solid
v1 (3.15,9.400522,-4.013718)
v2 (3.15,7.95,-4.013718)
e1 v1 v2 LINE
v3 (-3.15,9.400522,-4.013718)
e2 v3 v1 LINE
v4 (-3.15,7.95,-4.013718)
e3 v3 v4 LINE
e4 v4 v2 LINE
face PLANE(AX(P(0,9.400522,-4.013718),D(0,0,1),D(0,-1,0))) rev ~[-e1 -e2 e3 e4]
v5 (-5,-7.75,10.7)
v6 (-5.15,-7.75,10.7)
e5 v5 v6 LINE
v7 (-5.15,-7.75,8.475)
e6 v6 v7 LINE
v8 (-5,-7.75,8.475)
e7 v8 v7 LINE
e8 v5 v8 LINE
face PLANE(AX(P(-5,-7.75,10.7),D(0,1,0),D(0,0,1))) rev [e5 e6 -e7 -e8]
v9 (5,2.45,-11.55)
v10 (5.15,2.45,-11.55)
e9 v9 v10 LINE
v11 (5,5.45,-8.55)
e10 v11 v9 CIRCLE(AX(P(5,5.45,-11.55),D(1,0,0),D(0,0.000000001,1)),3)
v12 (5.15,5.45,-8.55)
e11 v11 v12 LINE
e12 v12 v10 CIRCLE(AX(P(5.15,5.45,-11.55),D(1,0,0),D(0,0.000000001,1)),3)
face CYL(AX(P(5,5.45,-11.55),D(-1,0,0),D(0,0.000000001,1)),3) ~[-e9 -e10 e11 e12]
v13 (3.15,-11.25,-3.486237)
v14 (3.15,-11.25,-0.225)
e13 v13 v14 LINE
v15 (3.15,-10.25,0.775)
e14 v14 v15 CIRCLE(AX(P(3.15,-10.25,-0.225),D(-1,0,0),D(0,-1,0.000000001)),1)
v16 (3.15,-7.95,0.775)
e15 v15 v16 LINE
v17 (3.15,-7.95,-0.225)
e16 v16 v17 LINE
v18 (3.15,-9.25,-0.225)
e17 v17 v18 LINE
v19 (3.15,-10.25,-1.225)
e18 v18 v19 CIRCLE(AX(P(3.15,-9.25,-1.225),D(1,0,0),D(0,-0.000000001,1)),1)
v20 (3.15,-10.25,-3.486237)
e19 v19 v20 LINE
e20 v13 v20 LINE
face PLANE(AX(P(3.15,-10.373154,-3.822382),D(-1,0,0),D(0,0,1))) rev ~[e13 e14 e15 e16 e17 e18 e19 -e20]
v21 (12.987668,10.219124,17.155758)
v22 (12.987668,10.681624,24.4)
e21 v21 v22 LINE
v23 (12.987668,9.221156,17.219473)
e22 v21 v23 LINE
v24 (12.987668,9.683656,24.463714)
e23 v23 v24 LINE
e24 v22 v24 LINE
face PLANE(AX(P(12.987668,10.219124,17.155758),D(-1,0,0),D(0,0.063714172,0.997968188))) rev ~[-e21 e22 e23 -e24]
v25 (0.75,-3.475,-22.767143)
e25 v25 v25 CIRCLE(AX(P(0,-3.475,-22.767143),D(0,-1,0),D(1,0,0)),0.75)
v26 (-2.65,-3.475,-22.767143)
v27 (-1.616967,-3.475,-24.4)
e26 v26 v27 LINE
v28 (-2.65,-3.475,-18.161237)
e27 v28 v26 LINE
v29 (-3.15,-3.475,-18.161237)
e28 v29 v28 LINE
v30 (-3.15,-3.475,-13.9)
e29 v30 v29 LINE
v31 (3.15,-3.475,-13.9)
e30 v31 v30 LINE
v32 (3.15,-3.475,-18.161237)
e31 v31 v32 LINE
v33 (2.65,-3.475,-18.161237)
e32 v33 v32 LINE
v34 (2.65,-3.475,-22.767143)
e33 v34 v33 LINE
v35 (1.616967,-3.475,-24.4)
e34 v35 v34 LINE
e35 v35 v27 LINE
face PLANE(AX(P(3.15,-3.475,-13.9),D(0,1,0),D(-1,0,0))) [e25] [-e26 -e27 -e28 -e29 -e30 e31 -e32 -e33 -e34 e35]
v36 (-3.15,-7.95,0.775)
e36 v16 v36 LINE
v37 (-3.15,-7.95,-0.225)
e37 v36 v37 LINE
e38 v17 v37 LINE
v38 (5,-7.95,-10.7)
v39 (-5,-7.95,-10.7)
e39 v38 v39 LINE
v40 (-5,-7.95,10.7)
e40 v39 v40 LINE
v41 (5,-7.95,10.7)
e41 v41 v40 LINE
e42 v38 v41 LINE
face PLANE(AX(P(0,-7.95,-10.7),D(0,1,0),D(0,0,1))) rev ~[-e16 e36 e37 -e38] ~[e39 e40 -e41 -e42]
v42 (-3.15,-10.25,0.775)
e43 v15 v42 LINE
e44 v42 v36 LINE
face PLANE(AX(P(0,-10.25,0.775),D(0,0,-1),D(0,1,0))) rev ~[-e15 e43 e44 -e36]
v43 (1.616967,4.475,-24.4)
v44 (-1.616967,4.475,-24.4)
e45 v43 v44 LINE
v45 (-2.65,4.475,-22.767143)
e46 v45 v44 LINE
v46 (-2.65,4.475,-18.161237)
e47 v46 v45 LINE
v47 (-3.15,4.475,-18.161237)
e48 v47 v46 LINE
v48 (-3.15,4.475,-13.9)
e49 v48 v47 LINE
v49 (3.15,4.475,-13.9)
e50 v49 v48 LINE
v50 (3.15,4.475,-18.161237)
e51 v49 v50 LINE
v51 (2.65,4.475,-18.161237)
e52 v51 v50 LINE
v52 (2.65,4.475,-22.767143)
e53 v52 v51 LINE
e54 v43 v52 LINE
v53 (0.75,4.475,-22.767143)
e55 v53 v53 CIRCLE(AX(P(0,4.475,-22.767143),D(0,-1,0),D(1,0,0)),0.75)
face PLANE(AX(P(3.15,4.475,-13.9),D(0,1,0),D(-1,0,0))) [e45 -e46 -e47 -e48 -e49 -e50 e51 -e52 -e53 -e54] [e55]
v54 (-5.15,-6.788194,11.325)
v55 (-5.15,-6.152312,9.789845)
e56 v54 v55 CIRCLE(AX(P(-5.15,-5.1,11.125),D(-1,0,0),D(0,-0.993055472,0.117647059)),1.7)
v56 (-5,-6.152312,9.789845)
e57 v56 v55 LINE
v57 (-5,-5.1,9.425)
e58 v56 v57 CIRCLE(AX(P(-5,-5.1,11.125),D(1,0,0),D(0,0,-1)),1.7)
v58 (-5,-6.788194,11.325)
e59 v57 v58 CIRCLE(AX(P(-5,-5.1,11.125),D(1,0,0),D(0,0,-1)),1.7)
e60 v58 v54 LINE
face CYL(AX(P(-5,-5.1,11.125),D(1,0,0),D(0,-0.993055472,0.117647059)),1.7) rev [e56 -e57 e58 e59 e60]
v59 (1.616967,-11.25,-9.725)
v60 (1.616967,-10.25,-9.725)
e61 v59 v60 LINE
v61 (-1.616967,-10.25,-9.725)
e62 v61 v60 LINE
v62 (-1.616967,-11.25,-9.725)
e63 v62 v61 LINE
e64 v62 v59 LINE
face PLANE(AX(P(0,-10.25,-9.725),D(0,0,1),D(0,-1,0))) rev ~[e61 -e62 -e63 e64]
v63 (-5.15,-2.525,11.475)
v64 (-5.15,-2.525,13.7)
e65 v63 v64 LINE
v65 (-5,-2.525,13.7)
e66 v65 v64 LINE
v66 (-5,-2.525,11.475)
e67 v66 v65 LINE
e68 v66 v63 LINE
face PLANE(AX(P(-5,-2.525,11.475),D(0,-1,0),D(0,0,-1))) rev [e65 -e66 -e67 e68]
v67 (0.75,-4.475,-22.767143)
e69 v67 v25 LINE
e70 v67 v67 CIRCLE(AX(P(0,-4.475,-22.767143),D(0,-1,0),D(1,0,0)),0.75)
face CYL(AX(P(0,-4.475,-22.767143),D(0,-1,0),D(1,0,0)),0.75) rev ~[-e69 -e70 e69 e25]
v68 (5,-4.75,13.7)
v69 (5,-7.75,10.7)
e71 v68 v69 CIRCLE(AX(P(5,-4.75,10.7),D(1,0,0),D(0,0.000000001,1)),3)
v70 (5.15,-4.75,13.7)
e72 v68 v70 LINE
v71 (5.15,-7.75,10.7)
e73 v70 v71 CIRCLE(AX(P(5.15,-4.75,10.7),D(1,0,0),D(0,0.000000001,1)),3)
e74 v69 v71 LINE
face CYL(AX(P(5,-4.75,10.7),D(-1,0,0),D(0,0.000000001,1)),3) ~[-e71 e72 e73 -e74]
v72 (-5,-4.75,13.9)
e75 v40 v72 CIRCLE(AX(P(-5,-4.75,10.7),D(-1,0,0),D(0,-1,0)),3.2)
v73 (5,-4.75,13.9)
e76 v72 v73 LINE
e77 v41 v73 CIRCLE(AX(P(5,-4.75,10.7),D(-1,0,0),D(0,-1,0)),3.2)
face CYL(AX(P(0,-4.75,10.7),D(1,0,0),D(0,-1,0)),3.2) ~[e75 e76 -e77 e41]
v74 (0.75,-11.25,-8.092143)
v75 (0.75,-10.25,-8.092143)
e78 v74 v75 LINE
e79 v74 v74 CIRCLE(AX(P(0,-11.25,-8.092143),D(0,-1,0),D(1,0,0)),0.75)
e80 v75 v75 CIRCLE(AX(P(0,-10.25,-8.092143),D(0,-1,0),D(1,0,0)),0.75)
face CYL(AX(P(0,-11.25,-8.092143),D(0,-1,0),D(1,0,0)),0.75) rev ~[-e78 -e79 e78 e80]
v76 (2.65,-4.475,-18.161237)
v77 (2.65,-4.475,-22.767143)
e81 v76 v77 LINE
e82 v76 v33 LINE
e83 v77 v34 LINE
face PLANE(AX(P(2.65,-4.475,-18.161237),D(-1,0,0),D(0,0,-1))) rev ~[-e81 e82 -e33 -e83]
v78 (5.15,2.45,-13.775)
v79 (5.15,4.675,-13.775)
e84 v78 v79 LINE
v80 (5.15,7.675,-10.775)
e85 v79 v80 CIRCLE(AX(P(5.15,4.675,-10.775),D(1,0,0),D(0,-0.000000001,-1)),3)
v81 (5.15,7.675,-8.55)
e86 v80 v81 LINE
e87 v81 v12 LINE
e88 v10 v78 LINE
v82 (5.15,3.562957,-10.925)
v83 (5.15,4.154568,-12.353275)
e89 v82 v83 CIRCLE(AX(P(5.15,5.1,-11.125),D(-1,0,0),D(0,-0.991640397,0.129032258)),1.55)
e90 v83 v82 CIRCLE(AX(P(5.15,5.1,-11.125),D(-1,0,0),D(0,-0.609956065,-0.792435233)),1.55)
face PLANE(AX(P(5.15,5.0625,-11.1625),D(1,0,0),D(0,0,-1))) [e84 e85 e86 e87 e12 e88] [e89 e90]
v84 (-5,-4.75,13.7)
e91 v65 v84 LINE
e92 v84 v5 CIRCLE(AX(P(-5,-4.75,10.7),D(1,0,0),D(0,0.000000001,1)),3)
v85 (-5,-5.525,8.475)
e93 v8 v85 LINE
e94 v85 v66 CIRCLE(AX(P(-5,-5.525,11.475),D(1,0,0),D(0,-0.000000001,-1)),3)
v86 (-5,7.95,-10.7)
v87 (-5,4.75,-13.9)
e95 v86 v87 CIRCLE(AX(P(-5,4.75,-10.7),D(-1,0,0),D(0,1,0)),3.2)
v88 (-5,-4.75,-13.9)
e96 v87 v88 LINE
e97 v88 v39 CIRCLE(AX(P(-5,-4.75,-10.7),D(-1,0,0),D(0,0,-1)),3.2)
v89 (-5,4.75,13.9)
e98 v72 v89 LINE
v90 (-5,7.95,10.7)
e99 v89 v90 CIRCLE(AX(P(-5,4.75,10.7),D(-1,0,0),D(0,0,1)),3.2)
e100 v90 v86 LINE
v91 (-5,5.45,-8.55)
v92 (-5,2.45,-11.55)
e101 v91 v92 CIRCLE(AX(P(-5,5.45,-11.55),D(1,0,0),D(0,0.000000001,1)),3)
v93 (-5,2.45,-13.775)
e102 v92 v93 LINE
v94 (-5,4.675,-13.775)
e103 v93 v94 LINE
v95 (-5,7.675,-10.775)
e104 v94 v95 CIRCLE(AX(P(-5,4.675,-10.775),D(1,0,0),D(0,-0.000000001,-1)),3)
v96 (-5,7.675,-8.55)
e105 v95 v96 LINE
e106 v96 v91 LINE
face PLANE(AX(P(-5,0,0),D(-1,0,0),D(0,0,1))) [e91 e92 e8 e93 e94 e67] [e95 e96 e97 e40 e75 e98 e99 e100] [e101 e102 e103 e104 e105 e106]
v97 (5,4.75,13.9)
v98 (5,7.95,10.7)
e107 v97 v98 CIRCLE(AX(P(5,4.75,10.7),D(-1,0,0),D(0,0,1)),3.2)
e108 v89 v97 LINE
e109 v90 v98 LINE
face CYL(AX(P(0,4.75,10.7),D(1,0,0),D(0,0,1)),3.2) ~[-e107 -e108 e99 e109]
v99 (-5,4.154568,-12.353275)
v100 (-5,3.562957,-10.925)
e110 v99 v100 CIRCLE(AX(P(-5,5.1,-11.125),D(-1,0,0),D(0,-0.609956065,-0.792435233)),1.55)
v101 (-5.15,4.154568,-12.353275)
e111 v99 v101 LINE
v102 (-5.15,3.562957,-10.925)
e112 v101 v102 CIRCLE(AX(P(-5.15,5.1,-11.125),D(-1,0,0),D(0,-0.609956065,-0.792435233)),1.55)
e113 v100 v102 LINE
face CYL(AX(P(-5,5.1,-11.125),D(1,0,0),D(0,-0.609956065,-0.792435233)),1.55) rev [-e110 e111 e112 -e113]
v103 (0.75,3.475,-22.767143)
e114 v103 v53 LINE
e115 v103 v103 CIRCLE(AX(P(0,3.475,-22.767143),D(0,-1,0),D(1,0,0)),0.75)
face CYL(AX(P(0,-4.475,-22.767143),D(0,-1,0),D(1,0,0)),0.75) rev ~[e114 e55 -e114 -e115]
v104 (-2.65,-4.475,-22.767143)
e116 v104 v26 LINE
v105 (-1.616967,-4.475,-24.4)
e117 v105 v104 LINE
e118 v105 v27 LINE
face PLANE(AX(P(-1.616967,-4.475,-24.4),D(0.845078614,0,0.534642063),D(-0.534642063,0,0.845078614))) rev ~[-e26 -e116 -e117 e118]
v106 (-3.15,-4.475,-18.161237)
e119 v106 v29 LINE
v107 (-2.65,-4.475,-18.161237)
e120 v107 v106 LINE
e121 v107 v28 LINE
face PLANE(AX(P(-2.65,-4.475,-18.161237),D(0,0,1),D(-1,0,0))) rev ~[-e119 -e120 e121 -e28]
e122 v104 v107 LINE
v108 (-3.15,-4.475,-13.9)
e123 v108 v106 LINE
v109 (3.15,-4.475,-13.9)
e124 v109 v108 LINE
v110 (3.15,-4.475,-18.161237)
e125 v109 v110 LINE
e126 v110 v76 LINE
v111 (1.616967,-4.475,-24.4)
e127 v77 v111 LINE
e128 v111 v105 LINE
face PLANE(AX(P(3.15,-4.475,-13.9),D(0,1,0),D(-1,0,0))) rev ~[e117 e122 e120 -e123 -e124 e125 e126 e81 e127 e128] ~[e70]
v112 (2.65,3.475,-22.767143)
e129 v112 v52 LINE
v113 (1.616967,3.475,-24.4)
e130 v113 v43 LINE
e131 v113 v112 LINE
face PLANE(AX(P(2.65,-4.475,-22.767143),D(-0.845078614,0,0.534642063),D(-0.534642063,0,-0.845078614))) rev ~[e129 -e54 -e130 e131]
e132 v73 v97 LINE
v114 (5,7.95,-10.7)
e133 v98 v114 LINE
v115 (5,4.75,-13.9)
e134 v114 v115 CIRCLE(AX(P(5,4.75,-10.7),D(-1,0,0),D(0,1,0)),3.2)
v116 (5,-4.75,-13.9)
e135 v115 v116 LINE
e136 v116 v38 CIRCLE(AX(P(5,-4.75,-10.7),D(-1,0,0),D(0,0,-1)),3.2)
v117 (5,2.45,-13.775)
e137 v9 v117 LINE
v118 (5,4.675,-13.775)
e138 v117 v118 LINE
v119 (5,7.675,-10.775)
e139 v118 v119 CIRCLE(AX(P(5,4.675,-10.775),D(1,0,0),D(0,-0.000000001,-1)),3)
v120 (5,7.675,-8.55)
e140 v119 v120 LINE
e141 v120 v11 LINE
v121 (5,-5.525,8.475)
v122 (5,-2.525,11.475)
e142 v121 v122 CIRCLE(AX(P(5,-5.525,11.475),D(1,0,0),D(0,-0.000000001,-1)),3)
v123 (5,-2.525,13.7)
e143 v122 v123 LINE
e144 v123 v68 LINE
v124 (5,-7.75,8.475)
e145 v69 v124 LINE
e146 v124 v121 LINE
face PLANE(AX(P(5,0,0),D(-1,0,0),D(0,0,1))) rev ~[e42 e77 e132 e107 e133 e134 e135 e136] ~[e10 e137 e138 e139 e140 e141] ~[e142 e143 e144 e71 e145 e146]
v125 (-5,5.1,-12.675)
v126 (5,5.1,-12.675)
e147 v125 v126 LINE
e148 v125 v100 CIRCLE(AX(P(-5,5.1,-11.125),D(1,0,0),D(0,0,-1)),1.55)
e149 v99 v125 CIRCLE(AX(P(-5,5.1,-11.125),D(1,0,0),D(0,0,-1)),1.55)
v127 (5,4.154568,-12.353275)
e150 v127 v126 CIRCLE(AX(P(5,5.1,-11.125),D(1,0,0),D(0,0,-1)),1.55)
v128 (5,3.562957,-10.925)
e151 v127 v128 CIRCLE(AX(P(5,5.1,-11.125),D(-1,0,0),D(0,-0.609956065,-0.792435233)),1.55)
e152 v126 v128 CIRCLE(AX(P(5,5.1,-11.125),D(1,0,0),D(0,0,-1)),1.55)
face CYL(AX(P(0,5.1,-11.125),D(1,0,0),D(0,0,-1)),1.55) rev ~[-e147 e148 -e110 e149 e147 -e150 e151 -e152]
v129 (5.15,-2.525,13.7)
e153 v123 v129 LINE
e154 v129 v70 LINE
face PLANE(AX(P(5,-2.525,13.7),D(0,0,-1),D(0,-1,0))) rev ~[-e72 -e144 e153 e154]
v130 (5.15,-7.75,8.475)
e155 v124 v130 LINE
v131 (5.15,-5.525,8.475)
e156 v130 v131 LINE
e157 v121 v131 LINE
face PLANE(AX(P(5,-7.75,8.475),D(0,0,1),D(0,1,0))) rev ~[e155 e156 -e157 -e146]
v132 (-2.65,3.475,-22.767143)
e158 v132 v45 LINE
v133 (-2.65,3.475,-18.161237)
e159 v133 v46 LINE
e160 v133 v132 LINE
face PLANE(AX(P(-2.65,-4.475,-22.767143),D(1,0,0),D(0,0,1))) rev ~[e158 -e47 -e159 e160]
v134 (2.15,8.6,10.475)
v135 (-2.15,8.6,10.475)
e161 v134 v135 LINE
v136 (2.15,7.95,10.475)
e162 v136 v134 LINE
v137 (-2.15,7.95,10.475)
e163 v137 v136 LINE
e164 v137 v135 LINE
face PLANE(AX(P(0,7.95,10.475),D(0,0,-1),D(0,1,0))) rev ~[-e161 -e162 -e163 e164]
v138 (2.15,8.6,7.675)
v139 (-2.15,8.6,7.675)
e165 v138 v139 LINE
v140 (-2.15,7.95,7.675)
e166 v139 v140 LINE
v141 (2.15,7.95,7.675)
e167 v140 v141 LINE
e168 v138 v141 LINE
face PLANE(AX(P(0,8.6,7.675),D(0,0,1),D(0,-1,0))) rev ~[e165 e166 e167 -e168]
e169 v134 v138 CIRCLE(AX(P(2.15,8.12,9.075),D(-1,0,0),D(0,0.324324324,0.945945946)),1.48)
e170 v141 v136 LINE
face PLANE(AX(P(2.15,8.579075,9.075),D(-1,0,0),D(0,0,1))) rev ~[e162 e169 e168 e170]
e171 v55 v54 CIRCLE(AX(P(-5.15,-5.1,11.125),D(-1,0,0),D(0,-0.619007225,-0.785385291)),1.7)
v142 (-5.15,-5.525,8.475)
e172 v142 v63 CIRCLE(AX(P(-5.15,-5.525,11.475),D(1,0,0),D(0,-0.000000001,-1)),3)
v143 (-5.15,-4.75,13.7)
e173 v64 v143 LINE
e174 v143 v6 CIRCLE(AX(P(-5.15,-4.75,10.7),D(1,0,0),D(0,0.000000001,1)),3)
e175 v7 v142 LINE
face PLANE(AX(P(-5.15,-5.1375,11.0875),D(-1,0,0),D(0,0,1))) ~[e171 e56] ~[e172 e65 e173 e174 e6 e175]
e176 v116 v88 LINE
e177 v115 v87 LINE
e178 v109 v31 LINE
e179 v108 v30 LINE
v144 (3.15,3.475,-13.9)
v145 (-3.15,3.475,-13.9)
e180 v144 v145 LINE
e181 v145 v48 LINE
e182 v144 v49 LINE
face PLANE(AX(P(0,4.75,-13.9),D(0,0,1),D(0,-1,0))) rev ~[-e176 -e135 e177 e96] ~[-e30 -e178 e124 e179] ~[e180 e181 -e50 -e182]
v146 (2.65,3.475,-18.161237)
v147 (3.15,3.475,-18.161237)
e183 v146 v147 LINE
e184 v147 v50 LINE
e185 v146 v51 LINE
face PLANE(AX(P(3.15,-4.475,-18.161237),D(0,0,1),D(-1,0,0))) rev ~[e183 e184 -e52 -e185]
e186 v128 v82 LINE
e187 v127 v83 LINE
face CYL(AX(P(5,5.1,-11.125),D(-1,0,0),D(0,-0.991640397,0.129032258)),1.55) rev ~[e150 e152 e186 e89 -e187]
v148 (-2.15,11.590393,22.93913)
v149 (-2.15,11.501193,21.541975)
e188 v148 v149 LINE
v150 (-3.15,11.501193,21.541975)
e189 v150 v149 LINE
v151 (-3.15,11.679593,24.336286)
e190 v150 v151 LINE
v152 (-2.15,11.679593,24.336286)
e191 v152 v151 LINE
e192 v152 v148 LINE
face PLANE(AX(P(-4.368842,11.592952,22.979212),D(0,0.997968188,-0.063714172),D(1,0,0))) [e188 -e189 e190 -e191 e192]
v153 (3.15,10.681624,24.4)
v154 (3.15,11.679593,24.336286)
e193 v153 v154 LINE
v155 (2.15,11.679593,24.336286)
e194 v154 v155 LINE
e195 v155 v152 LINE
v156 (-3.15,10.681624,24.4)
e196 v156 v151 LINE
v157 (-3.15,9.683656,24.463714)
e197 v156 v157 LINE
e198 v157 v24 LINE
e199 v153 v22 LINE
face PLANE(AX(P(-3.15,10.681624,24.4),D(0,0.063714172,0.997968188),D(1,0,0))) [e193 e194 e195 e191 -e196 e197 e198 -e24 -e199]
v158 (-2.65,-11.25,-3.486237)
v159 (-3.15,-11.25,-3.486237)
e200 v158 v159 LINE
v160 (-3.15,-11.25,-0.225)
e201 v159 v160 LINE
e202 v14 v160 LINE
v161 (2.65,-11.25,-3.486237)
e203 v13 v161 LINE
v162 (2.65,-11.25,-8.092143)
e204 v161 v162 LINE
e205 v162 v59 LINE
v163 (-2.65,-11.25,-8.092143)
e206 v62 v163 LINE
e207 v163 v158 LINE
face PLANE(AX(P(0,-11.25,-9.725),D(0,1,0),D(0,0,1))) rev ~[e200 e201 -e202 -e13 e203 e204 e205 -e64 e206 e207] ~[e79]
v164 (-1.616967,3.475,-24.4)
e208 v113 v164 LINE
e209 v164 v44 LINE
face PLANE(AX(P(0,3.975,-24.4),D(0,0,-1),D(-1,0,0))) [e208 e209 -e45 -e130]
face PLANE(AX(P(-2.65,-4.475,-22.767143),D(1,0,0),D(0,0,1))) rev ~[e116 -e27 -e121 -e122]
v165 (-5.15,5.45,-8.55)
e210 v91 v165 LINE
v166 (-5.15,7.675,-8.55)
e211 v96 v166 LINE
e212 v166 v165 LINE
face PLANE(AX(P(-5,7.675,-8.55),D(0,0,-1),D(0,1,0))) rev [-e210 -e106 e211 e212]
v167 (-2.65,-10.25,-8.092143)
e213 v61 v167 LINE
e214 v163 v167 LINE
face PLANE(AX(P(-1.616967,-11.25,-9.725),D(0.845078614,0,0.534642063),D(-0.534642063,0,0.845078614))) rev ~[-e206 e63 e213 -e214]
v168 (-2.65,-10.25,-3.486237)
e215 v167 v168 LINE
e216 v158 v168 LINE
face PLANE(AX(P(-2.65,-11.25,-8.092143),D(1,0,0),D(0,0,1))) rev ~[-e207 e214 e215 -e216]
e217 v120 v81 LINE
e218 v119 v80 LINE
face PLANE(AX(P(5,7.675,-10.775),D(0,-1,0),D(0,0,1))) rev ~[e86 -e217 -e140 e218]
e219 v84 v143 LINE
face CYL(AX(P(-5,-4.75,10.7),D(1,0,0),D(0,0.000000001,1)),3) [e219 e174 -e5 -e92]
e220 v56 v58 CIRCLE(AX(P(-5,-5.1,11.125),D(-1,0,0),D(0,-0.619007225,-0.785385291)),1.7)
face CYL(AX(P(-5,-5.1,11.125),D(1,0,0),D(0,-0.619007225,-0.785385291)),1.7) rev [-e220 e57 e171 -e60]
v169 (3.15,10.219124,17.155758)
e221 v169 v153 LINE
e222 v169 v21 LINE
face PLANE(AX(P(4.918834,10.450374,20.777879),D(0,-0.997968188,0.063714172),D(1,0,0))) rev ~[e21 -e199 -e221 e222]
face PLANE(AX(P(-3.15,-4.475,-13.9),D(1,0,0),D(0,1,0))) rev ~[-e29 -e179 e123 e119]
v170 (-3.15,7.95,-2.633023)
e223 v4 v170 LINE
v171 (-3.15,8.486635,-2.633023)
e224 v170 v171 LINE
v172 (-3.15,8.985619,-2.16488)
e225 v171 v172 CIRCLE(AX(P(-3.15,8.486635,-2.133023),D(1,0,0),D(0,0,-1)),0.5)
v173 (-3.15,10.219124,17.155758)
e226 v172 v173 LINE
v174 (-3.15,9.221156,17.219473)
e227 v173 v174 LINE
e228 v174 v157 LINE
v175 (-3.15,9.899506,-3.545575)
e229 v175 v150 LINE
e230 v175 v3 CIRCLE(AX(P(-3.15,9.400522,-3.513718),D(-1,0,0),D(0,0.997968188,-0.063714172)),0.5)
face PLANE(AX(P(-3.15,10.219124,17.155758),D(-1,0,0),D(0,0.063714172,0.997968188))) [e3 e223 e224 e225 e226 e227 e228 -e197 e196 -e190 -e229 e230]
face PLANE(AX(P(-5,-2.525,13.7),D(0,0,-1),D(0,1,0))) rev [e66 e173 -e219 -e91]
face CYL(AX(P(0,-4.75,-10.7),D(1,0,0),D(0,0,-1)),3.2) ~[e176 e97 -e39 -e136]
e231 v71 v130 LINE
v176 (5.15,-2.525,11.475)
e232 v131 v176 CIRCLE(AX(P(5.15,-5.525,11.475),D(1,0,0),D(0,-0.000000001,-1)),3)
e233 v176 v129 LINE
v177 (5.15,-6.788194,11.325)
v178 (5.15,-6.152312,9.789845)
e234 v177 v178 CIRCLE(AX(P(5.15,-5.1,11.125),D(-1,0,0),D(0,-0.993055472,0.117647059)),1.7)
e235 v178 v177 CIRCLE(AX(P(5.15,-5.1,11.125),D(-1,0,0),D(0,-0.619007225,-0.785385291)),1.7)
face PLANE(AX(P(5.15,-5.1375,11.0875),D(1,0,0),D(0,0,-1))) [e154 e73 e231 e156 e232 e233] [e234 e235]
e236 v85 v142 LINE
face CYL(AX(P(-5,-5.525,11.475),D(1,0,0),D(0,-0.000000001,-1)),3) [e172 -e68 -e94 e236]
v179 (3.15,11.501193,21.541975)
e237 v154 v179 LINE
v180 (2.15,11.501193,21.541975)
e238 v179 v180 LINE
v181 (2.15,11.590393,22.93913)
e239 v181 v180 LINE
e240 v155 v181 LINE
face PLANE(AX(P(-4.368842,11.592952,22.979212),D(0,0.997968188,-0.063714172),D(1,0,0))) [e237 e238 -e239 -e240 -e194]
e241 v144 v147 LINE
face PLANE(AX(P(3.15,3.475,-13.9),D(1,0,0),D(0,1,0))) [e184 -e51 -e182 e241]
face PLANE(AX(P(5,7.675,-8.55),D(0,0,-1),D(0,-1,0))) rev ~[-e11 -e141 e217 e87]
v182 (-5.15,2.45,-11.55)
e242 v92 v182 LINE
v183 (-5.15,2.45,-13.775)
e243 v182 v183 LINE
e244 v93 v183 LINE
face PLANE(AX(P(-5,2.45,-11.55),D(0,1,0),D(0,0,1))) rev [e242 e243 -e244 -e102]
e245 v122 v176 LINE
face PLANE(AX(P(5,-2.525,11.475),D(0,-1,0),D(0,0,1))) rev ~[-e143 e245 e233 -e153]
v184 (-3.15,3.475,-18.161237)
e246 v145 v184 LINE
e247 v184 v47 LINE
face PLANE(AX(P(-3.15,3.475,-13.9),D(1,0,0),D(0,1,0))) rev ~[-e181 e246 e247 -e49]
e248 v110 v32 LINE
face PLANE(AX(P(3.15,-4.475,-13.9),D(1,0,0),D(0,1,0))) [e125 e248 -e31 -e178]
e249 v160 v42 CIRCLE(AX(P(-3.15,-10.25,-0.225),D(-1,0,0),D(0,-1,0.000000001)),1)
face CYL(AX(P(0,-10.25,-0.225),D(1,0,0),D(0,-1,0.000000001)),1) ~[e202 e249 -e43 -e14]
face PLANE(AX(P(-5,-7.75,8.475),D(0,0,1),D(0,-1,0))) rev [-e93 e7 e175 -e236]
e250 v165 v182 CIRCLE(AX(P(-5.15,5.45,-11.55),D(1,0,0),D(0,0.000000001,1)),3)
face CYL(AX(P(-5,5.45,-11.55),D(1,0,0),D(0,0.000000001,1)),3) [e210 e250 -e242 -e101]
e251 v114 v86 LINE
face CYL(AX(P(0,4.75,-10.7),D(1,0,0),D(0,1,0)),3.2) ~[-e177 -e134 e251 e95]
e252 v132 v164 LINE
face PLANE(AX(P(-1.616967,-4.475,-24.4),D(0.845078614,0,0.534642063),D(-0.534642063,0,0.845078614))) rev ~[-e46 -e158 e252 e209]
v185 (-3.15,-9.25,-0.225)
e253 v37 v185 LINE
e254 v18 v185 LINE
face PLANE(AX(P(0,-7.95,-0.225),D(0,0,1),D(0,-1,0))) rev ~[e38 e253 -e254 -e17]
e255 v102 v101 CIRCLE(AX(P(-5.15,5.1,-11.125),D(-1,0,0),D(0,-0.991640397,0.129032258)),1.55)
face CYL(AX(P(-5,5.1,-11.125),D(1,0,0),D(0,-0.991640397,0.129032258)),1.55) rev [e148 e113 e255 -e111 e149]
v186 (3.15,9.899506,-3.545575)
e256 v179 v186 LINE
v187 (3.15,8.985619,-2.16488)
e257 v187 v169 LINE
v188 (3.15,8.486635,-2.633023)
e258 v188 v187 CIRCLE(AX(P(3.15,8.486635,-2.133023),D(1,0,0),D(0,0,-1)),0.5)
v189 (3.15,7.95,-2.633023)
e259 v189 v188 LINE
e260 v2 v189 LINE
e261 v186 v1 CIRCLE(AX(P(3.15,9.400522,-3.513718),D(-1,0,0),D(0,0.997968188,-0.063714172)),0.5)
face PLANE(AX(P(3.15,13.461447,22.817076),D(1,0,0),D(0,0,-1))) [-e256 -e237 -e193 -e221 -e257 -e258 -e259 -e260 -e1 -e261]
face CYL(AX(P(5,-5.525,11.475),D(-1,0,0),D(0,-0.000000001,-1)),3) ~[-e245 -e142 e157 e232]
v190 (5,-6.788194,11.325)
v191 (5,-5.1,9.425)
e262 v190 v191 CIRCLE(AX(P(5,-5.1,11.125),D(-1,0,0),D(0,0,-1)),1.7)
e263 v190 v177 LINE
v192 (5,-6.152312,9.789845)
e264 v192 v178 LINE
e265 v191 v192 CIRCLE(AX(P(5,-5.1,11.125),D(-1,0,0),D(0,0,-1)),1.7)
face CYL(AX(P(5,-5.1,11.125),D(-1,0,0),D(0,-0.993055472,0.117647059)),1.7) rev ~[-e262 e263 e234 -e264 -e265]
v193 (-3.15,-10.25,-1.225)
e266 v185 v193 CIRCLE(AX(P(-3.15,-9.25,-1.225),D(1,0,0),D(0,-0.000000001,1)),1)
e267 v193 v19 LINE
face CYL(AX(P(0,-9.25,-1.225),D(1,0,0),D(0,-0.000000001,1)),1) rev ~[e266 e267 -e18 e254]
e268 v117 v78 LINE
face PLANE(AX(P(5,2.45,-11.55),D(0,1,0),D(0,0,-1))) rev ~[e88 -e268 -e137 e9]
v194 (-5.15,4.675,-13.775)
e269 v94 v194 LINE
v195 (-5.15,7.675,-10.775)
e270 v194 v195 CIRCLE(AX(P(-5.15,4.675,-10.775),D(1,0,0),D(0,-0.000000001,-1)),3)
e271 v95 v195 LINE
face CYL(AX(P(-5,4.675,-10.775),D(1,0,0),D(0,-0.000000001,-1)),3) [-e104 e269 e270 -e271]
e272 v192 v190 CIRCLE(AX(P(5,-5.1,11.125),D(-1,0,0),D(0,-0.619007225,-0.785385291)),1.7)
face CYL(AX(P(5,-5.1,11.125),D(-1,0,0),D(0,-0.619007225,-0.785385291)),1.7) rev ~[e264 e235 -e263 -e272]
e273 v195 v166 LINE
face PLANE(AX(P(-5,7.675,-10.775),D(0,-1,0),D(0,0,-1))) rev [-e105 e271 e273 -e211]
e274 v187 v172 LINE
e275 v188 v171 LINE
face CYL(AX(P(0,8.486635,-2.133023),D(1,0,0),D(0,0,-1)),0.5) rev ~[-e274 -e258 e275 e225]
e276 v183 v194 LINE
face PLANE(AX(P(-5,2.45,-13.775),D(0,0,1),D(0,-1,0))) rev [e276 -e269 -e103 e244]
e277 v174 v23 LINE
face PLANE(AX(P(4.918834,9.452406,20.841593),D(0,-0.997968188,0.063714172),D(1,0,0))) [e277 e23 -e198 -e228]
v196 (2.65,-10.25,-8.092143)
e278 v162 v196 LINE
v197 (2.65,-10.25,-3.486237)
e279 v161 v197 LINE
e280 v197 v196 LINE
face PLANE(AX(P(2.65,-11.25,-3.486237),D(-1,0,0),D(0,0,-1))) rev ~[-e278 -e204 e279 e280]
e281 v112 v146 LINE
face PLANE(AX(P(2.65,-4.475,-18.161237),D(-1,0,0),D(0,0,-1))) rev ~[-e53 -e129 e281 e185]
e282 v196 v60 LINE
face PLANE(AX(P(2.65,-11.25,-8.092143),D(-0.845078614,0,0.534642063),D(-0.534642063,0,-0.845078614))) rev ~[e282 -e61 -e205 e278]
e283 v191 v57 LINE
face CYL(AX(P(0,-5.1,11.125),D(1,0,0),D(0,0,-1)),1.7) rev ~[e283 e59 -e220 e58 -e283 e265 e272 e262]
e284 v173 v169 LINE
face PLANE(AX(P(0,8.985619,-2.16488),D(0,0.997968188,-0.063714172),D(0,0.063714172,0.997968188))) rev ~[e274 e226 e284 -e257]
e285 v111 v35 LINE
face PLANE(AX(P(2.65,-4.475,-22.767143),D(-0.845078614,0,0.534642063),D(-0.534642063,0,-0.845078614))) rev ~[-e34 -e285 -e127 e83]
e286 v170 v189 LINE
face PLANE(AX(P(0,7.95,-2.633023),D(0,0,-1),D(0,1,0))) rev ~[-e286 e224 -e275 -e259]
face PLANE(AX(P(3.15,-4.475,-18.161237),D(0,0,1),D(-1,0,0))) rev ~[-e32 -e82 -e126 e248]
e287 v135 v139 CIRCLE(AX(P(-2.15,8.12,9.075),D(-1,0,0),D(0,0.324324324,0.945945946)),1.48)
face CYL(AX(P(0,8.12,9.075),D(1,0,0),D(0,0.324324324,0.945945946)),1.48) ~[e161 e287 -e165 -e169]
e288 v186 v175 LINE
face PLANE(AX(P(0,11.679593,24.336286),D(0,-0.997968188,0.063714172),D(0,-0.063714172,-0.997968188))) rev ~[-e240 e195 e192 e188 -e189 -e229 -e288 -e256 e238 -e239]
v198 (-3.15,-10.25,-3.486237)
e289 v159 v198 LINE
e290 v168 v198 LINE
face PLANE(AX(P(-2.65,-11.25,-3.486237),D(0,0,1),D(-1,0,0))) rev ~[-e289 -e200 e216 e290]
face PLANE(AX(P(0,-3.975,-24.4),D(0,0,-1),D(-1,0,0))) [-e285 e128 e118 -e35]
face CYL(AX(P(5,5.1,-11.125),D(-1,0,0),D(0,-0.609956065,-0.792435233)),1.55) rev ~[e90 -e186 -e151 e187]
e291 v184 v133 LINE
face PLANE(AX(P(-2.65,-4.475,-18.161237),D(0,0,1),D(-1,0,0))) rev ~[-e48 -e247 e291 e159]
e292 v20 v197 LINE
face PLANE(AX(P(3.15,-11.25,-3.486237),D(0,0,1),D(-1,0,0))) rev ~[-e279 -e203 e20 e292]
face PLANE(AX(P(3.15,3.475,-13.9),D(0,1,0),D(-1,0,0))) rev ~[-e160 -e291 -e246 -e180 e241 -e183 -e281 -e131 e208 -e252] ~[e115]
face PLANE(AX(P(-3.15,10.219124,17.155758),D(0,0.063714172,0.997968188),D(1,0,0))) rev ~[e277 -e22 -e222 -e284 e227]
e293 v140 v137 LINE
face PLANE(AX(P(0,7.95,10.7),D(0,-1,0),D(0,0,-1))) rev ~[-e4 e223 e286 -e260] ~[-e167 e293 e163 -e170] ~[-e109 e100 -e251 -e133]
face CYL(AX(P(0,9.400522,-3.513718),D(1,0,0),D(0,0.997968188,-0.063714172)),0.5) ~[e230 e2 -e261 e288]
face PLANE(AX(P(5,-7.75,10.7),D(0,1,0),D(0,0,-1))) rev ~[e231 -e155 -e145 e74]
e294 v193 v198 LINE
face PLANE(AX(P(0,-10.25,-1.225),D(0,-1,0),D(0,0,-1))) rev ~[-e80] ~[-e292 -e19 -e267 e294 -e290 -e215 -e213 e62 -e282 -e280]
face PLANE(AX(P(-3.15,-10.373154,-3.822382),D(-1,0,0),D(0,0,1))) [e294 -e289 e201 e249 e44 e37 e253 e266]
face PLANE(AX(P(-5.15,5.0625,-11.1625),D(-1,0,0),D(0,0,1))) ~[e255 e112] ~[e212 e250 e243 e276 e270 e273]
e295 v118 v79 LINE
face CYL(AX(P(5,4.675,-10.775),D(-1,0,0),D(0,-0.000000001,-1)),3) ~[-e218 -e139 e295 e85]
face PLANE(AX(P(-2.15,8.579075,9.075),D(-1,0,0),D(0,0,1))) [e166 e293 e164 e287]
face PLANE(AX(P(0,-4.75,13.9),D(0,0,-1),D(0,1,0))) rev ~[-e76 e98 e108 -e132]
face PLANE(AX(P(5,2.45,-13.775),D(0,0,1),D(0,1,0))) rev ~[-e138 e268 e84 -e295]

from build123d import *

# Parameters (mm, degrees)
BLOCOBASE_DEPTH           = 5
SKFIXACAO_R               = 1.7
SKFIXACAO_R_2             = 1.55
FIXACAO_DEPTH             = 5.15
RESSALTOFIXACAO_DEPTH     = 0.15
BOTAO_DEPTH               = 2.15
SKETCH5_W                 = 6.3
SKETCH5_H                 = 1
BASECONECTORNONC_DEPTH    = 10.5
SKDESENHOCONECTORNONC_R   = 0.75
DESENHOCONECTORNONC_DEPTH = 20.5
BASECONECTORCOM_DEPTH     = 3.15
SKDESENHOCONECTORCOM_R    = 0.75
DESENHOCONECTORCOM_DEPTH  = 1
BASECONTATO_DEPTH         = 3.15
SKAPOIOROLO_R             = 0.7
APOIOROLO_DEPTH           = 1
SKROLO_R                  = 2.5
ROLO_DEPTH                = 4.3
SKETCH6_W                 = 15.037683952
SKETCH6_H                 = 10.848275608
CUT_EXTRUDE1_DEPTH        = 10
SKETCH7_W                 = 16.137668404
SKETCH7_H                 = 7.258990492
BOSS_EXTRUDE1_DEPTH       = 1


with BuildPart() as part:
    # skBlocoBase → BlocoBase (new body, symmetric)
    with BuildSketch(Plane(origin=(0, 0, 0), x_dir=(0, 0, -1), z_dir=(1, 0, 0))):
        with BuildLine():
            Line((-10.7, 7.95), (10.7, 7.95))
            ThreePointArc((10.7, 7.95), (12.9627417, 7.0127417), (13.9, 4.75))
            Line((13.9, 4.75), (13.9, -4.75))
            ThreePointArc((13.9, -4.75), (12.9627417, -7.0127417), (10.7, -7.95))
            Line((10.7, -7.95), (-10.7, -7.95))
            ThreePointArc((-10.7, -7.95), (-12.9627417, -7.0127417), (-13.9, -4.75))
            Line((-13.9, -4.75), (-13.9, 4.75))
            ThreePointArc((-13.9, 4.75), (-12.9627417, 7.0127417), (-10.7, 7.95))
        make_face()
    extrude(amount=BLOCOBASE_DEPTH, both=True)

    # skFixacao → Fixacao (cut, symmetric)
    with BuildSketch(Plane(origin=(0, 0, 0), x_dir=(0, 0, -1), z_dir=(1, 0, 0))):
        with Locations((-11.125, -5.1)):
            Circle(SKFIXACAO_R)
        with Locations((11.125, 5.1)):
            Circle(SKFIXACAO_R_2)
    extrude(amount=FIXACAO_DEPTH, both=True, mode=Mode.SUBTRACT)

    # skRessaltoFixacao → RessaltoFixacao (add)
    with BuildSketch(Plane(origin=(5, 0, 0), x_dir=(0, 0, -1), z_dir=(1, 0, 0))):
        with BuildLine():
            ThreePointArc((-8.475, -5.525), (-9.353679656, -3.403679656), (-11.475, -2.525))
            Line((-11.475, -2.525), (-13.7, -2.525))
            Line((-13.7, -2.525), (-13.7, -4.75))
            ThreePointArc((-13.7, -4.75), (-12.821320344, -6.871320344), (-10.7, -7.75))
            Line((-10.7, -7.75), (-8.475, -7.75))
            Line((-8.475, -7.75), (-8.475, -5.525))
        make_face()
        with BuildLine():
            ThreePointArc((-9.789845005, -6.152312282), (-10.474438165, -6.670595205), (-11.325, -6.788194302))
            ThreePointArc((-11.325, -6.788194302), (-11.775561835, -3.529404795), (-9.789845005, -6.152312282))
        make_face(mode=Mode.SUBTRACT)
        with BuildLine():
            ThreePointArc((13.775, 4.675), (12.896320344, 6.796320344), (10.775, 7.675))
            Line((10.775, 7.675), (8.55, 7.675))
            Line((8.55, 7.675), (8.55, 5.45))
            ThreePointArc((8.55, 5.45), (9.428679656, 3.328679656), (11.55, 2.45))
            Line((11.55, 2.45), (13.775, 2.45))
            Line((13.775, 2.45), (13.775, 4.675))
        make_face()
        with BuildLine():
            ThreePointArc((12.353274612, 4.1545681), (11.71815932, 3.667986725), (10.925, 3.562957385))
            ThreePointArc((10.925, 3.562957385), (10.53184068, 6.532013275), (12.353274612, 4.1545681))
        make_face(mode=Mode.SUBTRACT)
    ressaltofixacao = extrude(amount=RESSALTOFIXACAO_DEPTH)

    # MirrorRessaltoFixacao: RessaltoFixacao across plane
    add(ressaltofixacao.mirror(Plane(origin=(0, 0, 0), x_dir=(0, 0, 1), z_dir=(1, 0, 0))))

    # skBotao → Botao (add, symmetric)
    with BuildSketch(Plane(origin=(0, 0, 0), x_dir=(0, 0, -1), z_dir=(1, 0, 0))):
        with BuildLine():
            Line((-10.475, 7.95), (-10.475, 8.6))
            ThreePointArc((-10.475, 8.6), (-9.075, 9.6), (-7.675, 8.6))
            Line((-7.675, 8.6), (-7.675, 7.95))
            Line((-7.675, 7.95), (-10.475, 7.95))
        make_face()
    extrude(amount=BOTAO_DEPTH, both=True)

    # Sketch5 → BaseConectorNONC (add)
    with BuildSketch(Plane(origin=(0, 0, -13.9), x_dir=(-1, 0, 0), z_dir=(0, 0, -1))):
        with Locations((0, -3.975)):
            Rectangle(SKETCH5_W, SKETCH5_H)
        with Locations((0, 3.975)):
            Rectangle(SKETCH5_W, SKETCH5_H)
    extrude(amount=BASECONECTORNONC_DEPTH)

    # skDesenhoConectorNONC → DesenhoConectorNONC (cut)
    with BuildSketch(Plane.XZ.offset(4.475)):
        Polygon((2.65, -22.767142952), (1.616967042, -24.4), (3.15, -24.4), (3.15, -18.161236833), (2.65, -18.161236833), align=None)
        Polygon((-3.15, -24.4), (-1.616967042, -24.4), (-2.65, -22.767142952), (-2.65, -18.161236833), (-3.15, -18.161236833), align=None)
        with Locations((0, -22.767142952)):
            Circle(SKDESENHOCONECTORNONC_R)
    extrude(amount=-DESENHOCONECTORNONC_DEPTH, mode=Mode.SUBTRACT)

    # skBaseConectorCOM → BaseConectorCOM (add, symmetric)
    with BuildSketch(Plane(origin=(0, 0, 0), x_dir=(0, 0, -1), z_dir=(1, 0, 0))):
        with BuildLine():
            Line((9.725, -11.25), (0.225, -11.25))
            ThreePointArc((0.225, -11.25), (-0.482106781, -10.957106781), (-0.775, -10.25))
            Line((-0.775, -10.25), (-0.775, -7.95))
            Line((-0.775, -7.95), (0.225, -7.95))
            Line((0.225, -7.95), (0.225, -9.25))
            ThreePointArc((0.225, -9.25), (0.517893219, -9.957106781), (1.225, -10.25))
            Line((1.225, -10.25), (9.725, -10.25))
            Line((9.725, -10.25), (9.725, -11.25))
        make_face()
    extrude(amount=BASECONECTORCOM_DEPTH, both=True)

    # skDesenhoConectorCOM → DesenhoConectorCOM (cut)
    with BuildSketch(Plane.XZ.offset(11.25)):
        Polygon((2.65, -8.092142952), (1.616967042, -9.725), (3.15, -9.725), (3.15, -3.486236833), (2.65, -3.486236833), align=None)
        Polygon((-3.15, -9.725), (-1.616967042, -9.725), (-2.65, -8.092142952), (-2.65, -3.486236833), (-3.15, -3.486236833), align=None)
        with Locations((0, -8.092142952)):
            Circle(SKDESENHOCONECTORCOM_R)
    extrude(amount=-DESENHOCONECTORCOM_DEPTH, mode=Mode.SUBTRACT)

    # skBaseContato → BaseContato (add, symmetric)
    with BuildSketch(Plane(origin=(0, 0, 0), x_dir=(0, 0, -1), z_dir=(1, 0, 0))):
        with BuildLine():
            Line((2.63302332, 7.95), (2.63302332, 8.486635004))
            ThreePointArc((2.63302332, 8.486635004), (2.497665983, 8.828739854), (2.164880406, 8.985619098))
            Line((2.164880406, 8.985619098), (-24.4, 10.681624431))
            Line((-24.4, 10.681624431), (-24.336285828, 11.679592619))
            Line((-24.336285828, 11.679592619), (3.545575005, 9.899506131))
            ThreePointArc((3.545575005, 9.899506131), (3.878360582, 9.742626887), (4.013717919, 9.400522037))
            Line((4.013717919, 9.400522037), (4.013717919, 7.95))
            Line((4.013717919, 7.95), (2.63302332, 7.95))
        make_face()
    extrude(amount=BASECONTATO_DEPTH, both=True)

    # skApoioRolo → ApoioRolo (add)
    with BuildSketch(Plane(origin=(3.15, 0, 0), x_dir=(0, 0, -1), z_dir=(1, 0, 0))):
        with BuildLine():
            ThreePointArc((-21.354211514, 14.486814776), (-22.754211514, 15.886814776), (-24.154211514, 14.486814776))
            Line((-24.154211514, 14.486814776), (-24.336285828, 11.679592619))
            Line((-24.336285828, 11.679592619), (-22.939130364, 11.590392778))
            Line((-22.939130364, 11.590392778), (-21.541974901, 11.501192936))
            Line((-21.541974901, 11.501192936), (-21.365242034, 14.3114187))
            Line((-21.365242034, 14.3114187), (-21.354211514, 14.486814776))
        make_face()
        with Locations((-22.754211514, 14.486814776)):
            Circle(SKAPOIOROLO_R, mode=Mode.SUBTRACT)
    apoiorolo = extrude(amount=-APOIOROLO_DEPTH)

    # MirrorApoioRolo: ApoioRolo across plane
    add(apoiorolo.mirror(Plane(origin=(0, 0, 0), x_dir=(0, 0, 1), z_dir=(1, 0, 0))))

    # skRolo → Rolo (add)
    with BuildSketch(Plane.ZY.offset(-2.15)):
        with Locations((22.754211514, 14.486814776)):
            Circle(SKROLO_R)
    extrude(amount=ROLO_DEPTH)

    # Sketch6 → Cut-Extrude1 (cut)
    with BuildSketch(Plane(origin=(0, 10.084763511, -0.643850544), x_dir=(1, 0, 0), z_dir=(0, 0.997968188, -0.063714172))):
        with Locations((-4.368841976, -23.671158356)):
            Rectangle(SKETCH6_W, SKETCH6_H)
    extrude(amount=CUT_EXTRUDE1_DEPTH, mode=Mode.SUBTRACT)

    # Sketch7 → Boss-Extrude1 (add)
    with BuildSketch(Plane(origin=(0, 9.086795323, -0.580136372), x_dir=(1, 0, 0), z_dir=(0, -0.997968188, 0.063714172))):
        with Locations((4.918834202, 21.401499401)):
            Rectangle(SKETCH7_W, SKETCH7_H)
    extrude(amount=BOSS_EXTRUDE1_DEPTH)


solid = part.part
